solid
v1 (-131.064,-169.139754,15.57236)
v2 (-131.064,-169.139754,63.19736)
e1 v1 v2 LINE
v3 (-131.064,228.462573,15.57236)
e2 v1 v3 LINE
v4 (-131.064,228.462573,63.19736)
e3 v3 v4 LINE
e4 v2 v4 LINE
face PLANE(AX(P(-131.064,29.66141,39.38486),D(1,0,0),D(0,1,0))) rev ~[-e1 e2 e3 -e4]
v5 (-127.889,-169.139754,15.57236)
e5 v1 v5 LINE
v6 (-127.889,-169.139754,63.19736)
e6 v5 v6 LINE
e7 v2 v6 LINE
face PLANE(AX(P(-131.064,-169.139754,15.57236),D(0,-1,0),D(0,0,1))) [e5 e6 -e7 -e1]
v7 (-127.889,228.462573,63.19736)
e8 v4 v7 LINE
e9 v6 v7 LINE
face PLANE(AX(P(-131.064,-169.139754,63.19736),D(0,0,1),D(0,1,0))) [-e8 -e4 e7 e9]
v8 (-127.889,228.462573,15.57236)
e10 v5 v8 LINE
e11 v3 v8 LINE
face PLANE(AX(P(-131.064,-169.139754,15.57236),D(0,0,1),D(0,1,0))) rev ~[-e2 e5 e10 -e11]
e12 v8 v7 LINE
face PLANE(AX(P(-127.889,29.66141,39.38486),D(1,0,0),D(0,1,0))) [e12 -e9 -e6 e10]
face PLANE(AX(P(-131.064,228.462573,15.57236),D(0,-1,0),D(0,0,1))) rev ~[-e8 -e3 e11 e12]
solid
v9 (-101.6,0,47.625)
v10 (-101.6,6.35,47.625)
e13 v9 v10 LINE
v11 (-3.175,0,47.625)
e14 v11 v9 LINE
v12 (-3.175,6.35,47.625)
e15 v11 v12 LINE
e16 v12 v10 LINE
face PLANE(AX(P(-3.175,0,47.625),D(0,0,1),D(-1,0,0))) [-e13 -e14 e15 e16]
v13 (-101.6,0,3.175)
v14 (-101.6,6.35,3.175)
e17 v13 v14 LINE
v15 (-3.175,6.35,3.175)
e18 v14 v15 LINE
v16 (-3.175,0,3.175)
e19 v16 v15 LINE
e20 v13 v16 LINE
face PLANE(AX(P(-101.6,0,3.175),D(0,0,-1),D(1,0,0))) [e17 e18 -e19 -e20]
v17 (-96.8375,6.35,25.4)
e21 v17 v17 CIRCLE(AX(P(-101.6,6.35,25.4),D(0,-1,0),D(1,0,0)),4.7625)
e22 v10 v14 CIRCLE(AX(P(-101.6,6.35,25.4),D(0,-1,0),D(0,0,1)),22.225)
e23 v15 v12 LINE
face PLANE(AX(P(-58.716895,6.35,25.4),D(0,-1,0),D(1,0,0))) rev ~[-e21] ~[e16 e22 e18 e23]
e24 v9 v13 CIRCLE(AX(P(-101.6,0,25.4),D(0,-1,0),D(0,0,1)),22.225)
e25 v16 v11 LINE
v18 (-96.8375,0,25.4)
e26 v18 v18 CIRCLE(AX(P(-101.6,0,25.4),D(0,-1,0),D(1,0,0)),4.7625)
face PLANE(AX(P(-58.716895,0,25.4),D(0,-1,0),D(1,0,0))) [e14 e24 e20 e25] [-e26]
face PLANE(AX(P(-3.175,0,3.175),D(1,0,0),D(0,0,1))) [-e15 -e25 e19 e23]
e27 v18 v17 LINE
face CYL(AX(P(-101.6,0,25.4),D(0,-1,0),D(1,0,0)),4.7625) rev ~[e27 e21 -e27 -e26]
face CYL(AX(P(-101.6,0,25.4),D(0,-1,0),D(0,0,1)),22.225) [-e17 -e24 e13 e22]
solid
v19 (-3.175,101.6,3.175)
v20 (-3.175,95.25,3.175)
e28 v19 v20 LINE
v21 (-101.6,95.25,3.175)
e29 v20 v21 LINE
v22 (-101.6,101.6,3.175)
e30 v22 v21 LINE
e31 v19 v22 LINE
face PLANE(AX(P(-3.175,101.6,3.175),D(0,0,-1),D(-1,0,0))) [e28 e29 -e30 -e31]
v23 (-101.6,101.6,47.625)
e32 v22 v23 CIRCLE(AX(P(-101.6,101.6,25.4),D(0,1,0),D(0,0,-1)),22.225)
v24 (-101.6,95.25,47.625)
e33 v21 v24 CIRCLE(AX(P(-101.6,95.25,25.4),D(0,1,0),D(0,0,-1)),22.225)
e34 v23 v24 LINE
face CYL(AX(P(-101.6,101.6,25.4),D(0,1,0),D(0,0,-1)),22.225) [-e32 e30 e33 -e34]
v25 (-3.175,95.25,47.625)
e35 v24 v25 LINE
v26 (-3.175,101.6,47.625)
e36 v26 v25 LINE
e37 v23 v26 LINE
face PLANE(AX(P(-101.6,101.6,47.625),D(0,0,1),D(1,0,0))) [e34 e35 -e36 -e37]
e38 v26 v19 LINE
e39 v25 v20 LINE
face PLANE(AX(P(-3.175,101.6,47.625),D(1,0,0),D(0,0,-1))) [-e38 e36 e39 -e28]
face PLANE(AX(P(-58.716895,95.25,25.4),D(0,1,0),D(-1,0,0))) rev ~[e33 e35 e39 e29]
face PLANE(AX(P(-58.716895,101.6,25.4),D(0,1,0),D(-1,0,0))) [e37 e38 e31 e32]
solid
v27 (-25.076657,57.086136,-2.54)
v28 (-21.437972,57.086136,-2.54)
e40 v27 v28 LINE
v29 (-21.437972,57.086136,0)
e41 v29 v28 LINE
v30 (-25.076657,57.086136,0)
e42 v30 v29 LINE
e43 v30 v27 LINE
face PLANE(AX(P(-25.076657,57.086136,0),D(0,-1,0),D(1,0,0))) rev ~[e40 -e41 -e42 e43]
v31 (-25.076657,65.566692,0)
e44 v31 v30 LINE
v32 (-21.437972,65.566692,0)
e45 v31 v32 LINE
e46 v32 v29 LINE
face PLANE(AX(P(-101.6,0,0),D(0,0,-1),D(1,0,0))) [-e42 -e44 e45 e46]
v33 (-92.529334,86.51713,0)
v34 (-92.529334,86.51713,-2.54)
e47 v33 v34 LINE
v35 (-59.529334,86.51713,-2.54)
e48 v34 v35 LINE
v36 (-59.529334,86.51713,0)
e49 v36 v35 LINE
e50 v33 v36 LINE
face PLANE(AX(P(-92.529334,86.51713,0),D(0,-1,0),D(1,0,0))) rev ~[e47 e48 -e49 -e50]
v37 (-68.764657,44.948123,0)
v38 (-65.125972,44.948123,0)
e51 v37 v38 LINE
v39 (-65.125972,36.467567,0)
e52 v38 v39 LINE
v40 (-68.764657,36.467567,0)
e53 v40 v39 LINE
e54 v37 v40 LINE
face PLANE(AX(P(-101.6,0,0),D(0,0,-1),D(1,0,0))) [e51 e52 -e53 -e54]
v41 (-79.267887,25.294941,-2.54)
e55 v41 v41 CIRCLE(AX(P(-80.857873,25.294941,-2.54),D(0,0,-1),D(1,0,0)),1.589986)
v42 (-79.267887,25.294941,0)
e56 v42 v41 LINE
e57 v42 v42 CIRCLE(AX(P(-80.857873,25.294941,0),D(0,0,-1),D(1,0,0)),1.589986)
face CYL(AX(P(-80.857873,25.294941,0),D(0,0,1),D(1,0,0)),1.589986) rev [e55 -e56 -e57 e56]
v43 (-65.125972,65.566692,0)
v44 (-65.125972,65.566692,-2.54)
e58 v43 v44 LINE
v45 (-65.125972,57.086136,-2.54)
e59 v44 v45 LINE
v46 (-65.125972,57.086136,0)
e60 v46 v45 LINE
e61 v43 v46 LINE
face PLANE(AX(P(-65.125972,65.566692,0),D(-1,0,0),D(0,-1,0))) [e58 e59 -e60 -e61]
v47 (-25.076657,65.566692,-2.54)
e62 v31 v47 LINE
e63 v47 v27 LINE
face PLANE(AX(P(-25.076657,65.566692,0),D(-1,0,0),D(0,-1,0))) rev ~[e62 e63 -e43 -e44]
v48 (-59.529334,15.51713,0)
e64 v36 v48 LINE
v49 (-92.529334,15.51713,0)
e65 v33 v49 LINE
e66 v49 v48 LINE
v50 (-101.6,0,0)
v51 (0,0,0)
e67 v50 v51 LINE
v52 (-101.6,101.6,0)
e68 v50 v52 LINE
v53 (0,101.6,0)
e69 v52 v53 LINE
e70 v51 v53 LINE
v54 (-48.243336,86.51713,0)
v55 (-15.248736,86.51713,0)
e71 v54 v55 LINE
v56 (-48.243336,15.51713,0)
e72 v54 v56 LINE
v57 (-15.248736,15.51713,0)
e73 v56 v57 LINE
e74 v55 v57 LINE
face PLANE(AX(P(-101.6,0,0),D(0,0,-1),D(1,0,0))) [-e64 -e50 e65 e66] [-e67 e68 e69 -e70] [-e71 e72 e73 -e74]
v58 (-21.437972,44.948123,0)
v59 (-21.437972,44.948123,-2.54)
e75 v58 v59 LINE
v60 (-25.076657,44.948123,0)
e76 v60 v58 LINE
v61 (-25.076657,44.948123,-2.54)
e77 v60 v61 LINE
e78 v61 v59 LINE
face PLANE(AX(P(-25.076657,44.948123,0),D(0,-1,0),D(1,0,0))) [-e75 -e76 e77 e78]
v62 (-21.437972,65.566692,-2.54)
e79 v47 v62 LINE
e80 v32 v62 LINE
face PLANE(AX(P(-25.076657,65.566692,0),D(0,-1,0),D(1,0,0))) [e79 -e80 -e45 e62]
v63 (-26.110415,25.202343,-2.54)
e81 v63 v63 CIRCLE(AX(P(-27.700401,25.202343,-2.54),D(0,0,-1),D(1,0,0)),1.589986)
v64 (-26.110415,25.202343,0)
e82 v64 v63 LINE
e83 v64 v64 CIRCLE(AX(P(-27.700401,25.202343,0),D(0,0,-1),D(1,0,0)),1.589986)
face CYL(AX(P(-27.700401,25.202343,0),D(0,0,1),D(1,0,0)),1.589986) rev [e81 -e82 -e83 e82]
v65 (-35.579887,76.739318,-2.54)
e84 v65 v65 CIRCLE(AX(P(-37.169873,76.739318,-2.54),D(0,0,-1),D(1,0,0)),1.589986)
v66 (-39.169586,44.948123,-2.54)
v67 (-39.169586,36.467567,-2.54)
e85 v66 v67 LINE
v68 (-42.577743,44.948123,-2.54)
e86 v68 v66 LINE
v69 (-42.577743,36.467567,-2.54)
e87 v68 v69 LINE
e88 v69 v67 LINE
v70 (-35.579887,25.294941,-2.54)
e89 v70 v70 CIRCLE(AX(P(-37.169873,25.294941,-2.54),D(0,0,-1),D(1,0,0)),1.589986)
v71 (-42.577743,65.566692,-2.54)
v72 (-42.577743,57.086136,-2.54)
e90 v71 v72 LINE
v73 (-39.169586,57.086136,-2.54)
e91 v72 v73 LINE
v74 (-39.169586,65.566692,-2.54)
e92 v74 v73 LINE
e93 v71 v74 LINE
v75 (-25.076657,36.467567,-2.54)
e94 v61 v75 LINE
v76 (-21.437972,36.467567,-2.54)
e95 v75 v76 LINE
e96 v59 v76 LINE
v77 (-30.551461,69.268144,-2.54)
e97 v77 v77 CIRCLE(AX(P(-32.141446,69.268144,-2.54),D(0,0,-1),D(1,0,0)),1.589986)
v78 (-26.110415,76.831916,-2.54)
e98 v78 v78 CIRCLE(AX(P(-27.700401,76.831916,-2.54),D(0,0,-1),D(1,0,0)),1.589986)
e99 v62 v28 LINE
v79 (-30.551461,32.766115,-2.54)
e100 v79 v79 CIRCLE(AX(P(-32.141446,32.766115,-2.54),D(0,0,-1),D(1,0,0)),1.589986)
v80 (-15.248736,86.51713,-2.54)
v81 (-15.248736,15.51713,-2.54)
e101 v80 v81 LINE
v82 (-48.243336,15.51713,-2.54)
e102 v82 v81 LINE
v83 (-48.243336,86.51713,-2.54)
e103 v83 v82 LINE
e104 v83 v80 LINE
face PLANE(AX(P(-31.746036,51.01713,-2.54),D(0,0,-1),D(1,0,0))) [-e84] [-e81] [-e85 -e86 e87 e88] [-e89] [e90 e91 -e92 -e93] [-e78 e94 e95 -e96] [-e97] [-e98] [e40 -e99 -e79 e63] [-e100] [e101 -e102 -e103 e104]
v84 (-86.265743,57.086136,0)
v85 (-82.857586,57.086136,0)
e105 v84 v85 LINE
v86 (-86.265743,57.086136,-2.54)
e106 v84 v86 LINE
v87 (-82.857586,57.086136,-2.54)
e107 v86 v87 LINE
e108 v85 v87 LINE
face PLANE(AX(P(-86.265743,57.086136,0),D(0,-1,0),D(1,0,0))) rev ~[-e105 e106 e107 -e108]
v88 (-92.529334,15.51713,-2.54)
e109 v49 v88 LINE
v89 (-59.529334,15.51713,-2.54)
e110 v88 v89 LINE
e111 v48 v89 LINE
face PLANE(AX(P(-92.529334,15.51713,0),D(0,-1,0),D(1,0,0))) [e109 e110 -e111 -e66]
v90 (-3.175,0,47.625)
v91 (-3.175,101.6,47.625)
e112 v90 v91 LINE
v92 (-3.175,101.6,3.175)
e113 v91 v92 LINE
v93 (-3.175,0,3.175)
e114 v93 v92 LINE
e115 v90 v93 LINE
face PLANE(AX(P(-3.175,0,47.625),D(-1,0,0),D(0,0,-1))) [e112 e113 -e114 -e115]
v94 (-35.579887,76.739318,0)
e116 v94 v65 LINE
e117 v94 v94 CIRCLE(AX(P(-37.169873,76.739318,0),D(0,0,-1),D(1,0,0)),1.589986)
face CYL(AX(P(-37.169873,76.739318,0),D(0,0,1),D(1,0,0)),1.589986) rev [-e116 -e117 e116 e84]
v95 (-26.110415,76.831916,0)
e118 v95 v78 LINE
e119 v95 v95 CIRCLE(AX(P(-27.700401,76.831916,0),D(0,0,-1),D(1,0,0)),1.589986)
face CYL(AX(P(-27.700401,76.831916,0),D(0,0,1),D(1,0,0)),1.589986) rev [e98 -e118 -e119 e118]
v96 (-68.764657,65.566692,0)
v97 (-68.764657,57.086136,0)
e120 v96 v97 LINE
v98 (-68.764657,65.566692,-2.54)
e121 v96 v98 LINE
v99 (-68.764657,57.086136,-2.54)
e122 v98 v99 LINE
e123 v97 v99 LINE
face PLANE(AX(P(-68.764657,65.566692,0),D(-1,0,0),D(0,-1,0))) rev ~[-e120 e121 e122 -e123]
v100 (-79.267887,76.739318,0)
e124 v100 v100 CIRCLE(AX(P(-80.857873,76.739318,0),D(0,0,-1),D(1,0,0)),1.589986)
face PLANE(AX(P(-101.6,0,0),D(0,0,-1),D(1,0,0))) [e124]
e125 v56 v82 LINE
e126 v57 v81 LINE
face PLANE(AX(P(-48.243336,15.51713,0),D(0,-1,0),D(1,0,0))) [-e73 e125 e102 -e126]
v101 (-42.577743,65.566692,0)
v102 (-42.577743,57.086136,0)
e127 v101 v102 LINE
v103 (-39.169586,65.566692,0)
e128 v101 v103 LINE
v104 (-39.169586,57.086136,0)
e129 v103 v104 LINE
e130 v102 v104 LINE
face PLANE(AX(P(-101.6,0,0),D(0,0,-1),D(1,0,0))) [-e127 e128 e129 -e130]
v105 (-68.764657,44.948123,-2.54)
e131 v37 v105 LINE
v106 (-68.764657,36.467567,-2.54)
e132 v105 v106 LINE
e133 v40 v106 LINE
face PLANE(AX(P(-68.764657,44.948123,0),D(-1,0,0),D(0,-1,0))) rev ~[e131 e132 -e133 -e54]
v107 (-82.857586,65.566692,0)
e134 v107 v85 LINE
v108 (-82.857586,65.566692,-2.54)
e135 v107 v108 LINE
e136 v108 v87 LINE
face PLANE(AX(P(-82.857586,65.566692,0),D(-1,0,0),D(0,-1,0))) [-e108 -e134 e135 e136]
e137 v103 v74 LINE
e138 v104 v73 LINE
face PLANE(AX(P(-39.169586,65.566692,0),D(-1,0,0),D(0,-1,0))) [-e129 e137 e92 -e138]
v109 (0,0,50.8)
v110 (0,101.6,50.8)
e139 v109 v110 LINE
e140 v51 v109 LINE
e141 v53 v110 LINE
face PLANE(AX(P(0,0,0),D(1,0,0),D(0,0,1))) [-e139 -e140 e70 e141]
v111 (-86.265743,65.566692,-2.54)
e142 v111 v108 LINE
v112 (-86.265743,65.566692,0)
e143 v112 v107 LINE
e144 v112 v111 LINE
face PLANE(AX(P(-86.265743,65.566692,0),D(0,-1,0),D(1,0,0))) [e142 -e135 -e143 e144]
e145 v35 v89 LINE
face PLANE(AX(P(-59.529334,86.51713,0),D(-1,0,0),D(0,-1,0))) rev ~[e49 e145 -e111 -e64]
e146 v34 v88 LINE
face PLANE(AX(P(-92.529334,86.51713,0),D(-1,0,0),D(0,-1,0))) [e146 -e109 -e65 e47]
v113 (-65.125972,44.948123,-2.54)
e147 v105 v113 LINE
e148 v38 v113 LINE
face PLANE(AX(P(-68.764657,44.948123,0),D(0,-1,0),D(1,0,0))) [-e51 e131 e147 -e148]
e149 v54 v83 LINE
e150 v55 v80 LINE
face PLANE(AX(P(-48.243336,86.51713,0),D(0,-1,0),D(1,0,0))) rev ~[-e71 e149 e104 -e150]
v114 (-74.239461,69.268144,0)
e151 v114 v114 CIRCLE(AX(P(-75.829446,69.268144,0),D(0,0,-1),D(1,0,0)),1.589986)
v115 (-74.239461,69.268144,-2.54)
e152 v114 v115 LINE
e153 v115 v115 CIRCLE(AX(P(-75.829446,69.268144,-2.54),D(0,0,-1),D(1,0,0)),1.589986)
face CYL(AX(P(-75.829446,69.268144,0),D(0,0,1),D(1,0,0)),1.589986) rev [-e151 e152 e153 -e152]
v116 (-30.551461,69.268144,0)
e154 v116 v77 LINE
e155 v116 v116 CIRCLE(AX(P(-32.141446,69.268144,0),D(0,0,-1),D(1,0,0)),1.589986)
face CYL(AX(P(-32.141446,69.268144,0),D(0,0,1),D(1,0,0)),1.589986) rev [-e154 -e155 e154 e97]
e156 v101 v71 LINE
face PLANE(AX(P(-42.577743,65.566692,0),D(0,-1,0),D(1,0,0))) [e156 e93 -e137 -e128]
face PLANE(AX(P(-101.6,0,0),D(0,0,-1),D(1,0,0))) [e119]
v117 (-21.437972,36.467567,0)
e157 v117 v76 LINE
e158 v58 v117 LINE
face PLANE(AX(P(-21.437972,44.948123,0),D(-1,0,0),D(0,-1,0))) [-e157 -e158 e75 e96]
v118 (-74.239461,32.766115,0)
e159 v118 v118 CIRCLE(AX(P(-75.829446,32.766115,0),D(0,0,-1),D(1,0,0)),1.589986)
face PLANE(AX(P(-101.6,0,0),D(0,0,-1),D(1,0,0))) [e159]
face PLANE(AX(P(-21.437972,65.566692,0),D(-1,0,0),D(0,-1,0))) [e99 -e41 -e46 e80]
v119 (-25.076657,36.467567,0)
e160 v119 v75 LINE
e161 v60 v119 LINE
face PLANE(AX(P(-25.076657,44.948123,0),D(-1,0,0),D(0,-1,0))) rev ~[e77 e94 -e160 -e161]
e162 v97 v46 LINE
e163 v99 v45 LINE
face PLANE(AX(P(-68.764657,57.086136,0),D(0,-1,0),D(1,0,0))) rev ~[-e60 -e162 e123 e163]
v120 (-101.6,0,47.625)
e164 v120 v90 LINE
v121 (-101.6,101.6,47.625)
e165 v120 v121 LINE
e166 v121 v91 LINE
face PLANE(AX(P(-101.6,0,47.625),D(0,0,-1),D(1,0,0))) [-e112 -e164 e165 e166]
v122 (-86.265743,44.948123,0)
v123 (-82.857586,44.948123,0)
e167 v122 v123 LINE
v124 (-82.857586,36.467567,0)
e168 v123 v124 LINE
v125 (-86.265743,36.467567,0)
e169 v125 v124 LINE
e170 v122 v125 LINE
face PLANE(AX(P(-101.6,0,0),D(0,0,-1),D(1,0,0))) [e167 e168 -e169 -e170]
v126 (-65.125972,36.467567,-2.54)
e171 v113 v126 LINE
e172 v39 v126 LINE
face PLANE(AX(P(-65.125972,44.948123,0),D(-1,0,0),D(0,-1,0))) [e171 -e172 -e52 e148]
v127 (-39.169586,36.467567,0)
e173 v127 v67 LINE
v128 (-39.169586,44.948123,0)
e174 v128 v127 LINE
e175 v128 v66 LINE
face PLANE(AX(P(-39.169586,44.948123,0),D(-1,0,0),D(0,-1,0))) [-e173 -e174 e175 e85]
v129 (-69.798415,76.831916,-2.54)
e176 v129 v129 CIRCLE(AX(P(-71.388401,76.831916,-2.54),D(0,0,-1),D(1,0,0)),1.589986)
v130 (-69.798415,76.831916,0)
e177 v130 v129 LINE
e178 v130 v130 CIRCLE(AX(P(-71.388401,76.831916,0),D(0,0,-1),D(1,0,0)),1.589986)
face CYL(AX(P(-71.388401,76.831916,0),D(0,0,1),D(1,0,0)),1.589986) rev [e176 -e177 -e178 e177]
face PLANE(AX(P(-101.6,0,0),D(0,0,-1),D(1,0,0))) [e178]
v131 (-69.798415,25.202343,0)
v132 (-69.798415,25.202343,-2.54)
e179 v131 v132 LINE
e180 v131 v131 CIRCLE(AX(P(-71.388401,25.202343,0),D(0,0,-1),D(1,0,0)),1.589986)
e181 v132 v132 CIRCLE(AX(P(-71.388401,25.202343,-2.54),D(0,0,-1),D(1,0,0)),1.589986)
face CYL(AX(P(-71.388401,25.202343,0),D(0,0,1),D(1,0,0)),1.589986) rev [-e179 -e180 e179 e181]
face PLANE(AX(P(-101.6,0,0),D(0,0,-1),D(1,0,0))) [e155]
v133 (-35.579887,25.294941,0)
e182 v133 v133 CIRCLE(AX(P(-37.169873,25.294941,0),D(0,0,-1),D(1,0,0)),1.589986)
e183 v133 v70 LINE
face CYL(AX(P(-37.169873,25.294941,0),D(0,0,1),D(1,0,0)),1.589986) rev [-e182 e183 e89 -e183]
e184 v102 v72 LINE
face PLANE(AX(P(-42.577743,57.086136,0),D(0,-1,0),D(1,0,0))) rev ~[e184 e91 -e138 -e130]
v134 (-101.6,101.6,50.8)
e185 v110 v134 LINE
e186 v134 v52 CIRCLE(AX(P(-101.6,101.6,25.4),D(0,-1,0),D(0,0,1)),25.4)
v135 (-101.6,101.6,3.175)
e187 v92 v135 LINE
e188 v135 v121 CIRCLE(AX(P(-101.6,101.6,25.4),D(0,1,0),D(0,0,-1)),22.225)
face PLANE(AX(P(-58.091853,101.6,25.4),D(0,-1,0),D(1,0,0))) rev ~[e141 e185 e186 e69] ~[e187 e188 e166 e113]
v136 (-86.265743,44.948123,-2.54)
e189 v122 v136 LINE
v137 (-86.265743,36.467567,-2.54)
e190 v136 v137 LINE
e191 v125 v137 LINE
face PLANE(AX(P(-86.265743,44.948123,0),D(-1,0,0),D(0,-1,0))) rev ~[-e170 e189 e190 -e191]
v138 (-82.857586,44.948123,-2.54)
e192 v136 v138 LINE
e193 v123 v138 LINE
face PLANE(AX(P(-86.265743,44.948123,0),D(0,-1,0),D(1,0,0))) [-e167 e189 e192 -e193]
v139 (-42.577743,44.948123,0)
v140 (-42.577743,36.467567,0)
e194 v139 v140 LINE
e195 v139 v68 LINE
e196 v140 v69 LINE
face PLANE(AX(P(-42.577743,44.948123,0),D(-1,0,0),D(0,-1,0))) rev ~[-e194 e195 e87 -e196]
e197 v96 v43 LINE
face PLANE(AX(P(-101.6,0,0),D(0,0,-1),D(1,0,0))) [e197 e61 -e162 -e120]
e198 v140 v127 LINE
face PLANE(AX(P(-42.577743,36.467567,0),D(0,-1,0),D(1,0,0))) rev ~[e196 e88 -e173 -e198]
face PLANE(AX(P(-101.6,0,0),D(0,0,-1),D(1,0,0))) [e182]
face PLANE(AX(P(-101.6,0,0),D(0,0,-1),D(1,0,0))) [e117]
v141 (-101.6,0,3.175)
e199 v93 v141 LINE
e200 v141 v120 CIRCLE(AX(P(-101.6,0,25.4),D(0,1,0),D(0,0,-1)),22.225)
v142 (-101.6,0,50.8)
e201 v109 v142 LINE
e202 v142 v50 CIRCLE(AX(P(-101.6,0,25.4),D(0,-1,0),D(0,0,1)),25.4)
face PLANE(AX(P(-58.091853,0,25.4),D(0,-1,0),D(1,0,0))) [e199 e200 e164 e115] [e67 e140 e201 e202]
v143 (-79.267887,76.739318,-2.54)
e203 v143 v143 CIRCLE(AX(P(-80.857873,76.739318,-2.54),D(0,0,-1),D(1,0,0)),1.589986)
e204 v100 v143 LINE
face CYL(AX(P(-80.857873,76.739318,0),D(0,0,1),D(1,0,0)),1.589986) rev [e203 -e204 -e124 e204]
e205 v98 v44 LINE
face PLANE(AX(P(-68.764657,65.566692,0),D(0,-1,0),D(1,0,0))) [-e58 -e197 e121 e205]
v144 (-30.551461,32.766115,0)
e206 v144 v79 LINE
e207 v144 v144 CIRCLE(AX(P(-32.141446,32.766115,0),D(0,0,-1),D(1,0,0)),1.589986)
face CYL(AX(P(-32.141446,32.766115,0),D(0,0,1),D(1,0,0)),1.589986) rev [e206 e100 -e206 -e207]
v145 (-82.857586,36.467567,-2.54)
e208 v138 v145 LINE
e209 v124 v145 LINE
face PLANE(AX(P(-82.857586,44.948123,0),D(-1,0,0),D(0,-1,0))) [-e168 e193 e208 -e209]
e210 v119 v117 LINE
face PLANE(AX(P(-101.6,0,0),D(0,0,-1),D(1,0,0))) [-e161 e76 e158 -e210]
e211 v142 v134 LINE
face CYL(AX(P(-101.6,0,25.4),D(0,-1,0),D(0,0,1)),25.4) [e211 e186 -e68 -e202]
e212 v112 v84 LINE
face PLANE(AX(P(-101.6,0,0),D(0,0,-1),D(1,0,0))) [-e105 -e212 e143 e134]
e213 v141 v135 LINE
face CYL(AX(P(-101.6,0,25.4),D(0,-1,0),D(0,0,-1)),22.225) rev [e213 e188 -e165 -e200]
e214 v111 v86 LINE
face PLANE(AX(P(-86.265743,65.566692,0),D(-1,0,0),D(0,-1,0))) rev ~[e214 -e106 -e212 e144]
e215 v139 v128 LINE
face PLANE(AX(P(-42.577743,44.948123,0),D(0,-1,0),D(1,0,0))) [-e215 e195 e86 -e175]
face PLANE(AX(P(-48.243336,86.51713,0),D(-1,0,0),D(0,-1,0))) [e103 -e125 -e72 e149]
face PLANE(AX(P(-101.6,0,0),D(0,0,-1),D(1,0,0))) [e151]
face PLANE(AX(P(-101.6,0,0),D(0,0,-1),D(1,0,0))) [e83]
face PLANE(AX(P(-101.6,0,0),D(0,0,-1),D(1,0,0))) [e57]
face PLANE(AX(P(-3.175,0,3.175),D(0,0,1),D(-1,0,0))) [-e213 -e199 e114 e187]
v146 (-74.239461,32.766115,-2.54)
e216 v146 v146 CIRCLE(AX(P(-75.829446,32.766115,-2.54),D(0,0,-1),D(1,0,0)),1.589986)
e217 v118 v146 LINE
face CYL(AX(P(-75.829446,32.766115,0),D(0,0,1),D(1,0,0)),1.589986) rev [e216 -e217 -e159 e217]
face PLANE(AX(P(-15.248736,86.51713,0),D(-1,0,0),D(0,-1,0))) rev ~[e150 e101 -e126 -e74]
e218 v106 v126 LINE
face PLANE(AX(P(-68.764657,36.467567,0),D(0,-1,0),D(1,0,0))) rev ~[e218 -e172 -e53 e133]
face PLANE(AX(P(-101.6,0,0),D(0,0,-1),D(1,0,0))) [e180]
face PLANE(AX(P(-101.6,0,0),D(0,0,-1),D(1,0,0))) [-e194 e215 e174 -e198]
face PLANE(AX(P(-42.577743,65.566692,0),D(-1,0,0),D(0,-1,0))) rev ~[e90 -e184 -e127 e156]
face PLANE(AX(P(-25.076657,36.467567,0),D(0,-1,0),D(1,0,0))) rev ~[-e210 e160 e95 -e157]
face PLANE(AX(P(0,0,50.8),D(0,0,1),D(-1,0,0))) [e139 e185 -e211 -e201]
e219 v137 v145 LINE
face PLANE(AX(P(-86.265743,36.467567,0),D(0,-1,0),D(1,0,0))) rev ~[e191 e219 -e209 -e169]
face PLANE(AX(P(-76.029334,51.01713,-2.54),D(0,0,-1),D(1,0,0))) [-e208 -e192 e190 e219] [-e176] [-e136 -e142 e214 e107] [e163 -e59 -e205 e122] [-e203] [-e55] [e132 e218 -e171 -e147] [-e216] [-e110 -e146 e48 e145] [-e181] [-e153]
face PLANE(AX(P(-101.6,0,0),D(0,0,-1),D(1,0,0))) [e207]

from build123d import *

# Parameters (mm, degrees)
F1_DEPTH  = 101.6
F0_R      = 4.7625
F2_DEPTH  = 6.35
F4_DEPTH  = 6.35
F5_W      = 33
F5_H      = 71
F5_R      = 1.5899856631
F5_W_2    = 3.4081563354
F5_H_2    = 8.4805563092
F5_W_3    = 3.6386847496
F5_W_4    = 32.9946
F6_DEPTH  = 2.54
F7_DEPTH  = 152.4
F9_W      = 397.6023276476
F9_H      = 47.625
F10_DEPTH = 3.175


with BuildPart() as f1:
    # F0 (on Front) → F1 (new body)
    with BuildSketch(Plane.XZ):
        with BuildLine():
            Line((-101.6, 0), (0, 0))
            Line((0, 0), (0, 50.8))
            Line((0, 50.8), (-101.6, 50.8))
            ThreePointArc((-101.6, 50.8), (-127, 25.4), (-101.6, 0))
        make_face()
        with BuildLine():
            ThreePointArc((-101.6, 3.175), (-123.825, 25.4), (-101.6, 47.625))
            Line((-101.6, 47.625), (-3.175, 47.625))
            Line((-3.175, 47.625), (-3.175, 3.175))
            Line((-3.175, 3.175), (-101.6, 3.175))
        make_face(mode=Mode.SUBTRACT)
    extrude(amount=-F1_DEPTH)

    # F5 (on face) → F6 (join)
    with BuildSketch(Plane(origin=(0, 0, 0), x_dir=(1, 0, 0), z_dir=(0, 0, -1))):
        with Locations((-76.0293341279, -51.0171295628)):
            Rectangle(F5_W, F5_H)
        with Locations((-80.857872963, -76.7393182069)):
            Circle(F5_R, mode=Mode.SUBTRACT)
        with Locations((-71.3884010911, -76.8319158852)):
            Circle(F5_R, mode=Mode.SUBTRACT)
        with Locations((-84.5616646111, -61.3264138848)):
            Rectangle(F5_W_2, F5_H_2, mode=Mode.SUBTRACT)
        with Locations((-75.8294463158, -69.2681442052)):
            Circle(F5_R, mode=Mode.SUBTRACT)
        with Locations((-66.9453144073, -61.3264138848)):
            Rectangle(F5_W_3, F5_H_2, mode=Mode.SUBTRACT)
        with Locations((-84.5616646111, -40.7078452408)):
            Rectangle(F5_W_2, F5_H_2, mode=Mode.SUBTRACT)
        with Locations((-66.9453144073, -40.7078452408)):
            Rectangle(F5_W_3, F5_H_2, mode=Mode.SUBTRACT)
        with Locations((-75.8294463158, -32.7661149204)):
            Circle(F5_R, mode=Mode.SUBTRACT)
        with Locations((-80.857872963, -25.2949409187)):
            Circle(F5_R, mode=Mode.SUBTRACT)
        with Locations((-71.3884010911, -25.2023432404)):
            Circle(F5_R, mode=Mode.SUBTRACT)
        with Locations((-31.7460363795, -51.0171295628)):
            Rectangle(F5_W_4, F5_H)
        with Locations((-37.169872963, -76.7393182069)):
            Circle(F5_R, mode=Mode.SUBTRACT)
        with Locations((-27.7004010911, -76.8319158852)):
            Circle(F5_R, mode=Mode.SUBTRACT)
        with Locations((-32.1414463158, -69.2681442052)):
            Circle(F5_R, mode=Mode.SUBTRACT)
        with Locations((-40.8736646111, -61.3264138848)):
            Rectangle(F5_W_2, F5_H_2, mode=Mode.SUBTRACT)
        with Locations((-23.2573144073, -61.3264138848)):
            Rectangle(F5_W_3, F5_H_2, mode=Mode.SUBTRACT)
        with Locations((-40.8736646111, -40.7078452408)):
            Rectangle(F5_W_2, F5_H_2, mode=Mode.SUBTRACT)
        with Locations((-32.1414463158, -32.7661149204)):
            Circle(F5_R, mode=Mode.SUBTRACT)
        with Locations((-23.2573144073, -40.7078452408)):
            Rectangle(F5_W_3, F5_H_2, mode=Mode.SUBTRACT)
        with Locations((-37.169872963, -25.2949409187)):
            Circle(F5_R, mode=Mode.SUBTRACT)
        with Locations((-27.7004010911, -25.2023432404)):
            Circle(F5_R, mode=Mode.SUBTRACT)
    extrude(amount=F6_DEPTH)

    # F0 (on Front) → F7 (cut)
    with BuildSketch(Plane.XZ):
        with Locations((-101.6, 25.4)):
            Circle(F0_R)
    extrude(amount=F7_DEPTH, mode=Mode.SUBTRACT)


with BuildPart() as f2:
    # F0 (on Front) → F2 (new body)
    with BuildSketch(Plane.XZ):
        with BuildLine():
            Line((-3.175, 47.625), (-101.6, 47.625))
            ThreePointArc((-101.6, 47.625), (-123.825, 25.4), (-101.6, 3.175))
            Line((-101.6, 3.175), (-3.175, 3.175))
            Line((-3.175, 3.175), (-3.175, 47.625))
        make_face()
        with Locations((-101.6, 25.4)):
            Circle(F0_R, mode=Mode.SUBTRACT)
    extrude(amount=-F2_DEPTH)


with BuildPart() as f4:
    # F3 (on face) → F4 (new body)
    with BuildSketch(Plane(origin=(0, 101.6, 0), x_dir=(-1, 0, 0), z_dir=(0, 1, 0))):
        with BuildLine():
            ThreePointArc((101.6, 3.175), (123.825, 25.4), (101.6, 47.625))
            Line((101.6, 47.625), (3.175, 47.625))
            Line((3.175, 47.625), (3.175, 3.175))
            Line((3.175, 3.175), (101.6, 3.175))
        make_face()
    extrude(amount=-F4_DEPTH)


with BuildPart() as f10:
    # F9 (on offset) → F10 (new body)
    with BuildSketch(Plane.YZ.offset(-131.064)):
        with Locations((29.6614095569, 39.3848596141)):
            Rectangle(F9_W, F9_H)
    extrude(amount=F10_DEPTH)


solid = Compound([f1.part, f2.part, f4.part, f10.part])
